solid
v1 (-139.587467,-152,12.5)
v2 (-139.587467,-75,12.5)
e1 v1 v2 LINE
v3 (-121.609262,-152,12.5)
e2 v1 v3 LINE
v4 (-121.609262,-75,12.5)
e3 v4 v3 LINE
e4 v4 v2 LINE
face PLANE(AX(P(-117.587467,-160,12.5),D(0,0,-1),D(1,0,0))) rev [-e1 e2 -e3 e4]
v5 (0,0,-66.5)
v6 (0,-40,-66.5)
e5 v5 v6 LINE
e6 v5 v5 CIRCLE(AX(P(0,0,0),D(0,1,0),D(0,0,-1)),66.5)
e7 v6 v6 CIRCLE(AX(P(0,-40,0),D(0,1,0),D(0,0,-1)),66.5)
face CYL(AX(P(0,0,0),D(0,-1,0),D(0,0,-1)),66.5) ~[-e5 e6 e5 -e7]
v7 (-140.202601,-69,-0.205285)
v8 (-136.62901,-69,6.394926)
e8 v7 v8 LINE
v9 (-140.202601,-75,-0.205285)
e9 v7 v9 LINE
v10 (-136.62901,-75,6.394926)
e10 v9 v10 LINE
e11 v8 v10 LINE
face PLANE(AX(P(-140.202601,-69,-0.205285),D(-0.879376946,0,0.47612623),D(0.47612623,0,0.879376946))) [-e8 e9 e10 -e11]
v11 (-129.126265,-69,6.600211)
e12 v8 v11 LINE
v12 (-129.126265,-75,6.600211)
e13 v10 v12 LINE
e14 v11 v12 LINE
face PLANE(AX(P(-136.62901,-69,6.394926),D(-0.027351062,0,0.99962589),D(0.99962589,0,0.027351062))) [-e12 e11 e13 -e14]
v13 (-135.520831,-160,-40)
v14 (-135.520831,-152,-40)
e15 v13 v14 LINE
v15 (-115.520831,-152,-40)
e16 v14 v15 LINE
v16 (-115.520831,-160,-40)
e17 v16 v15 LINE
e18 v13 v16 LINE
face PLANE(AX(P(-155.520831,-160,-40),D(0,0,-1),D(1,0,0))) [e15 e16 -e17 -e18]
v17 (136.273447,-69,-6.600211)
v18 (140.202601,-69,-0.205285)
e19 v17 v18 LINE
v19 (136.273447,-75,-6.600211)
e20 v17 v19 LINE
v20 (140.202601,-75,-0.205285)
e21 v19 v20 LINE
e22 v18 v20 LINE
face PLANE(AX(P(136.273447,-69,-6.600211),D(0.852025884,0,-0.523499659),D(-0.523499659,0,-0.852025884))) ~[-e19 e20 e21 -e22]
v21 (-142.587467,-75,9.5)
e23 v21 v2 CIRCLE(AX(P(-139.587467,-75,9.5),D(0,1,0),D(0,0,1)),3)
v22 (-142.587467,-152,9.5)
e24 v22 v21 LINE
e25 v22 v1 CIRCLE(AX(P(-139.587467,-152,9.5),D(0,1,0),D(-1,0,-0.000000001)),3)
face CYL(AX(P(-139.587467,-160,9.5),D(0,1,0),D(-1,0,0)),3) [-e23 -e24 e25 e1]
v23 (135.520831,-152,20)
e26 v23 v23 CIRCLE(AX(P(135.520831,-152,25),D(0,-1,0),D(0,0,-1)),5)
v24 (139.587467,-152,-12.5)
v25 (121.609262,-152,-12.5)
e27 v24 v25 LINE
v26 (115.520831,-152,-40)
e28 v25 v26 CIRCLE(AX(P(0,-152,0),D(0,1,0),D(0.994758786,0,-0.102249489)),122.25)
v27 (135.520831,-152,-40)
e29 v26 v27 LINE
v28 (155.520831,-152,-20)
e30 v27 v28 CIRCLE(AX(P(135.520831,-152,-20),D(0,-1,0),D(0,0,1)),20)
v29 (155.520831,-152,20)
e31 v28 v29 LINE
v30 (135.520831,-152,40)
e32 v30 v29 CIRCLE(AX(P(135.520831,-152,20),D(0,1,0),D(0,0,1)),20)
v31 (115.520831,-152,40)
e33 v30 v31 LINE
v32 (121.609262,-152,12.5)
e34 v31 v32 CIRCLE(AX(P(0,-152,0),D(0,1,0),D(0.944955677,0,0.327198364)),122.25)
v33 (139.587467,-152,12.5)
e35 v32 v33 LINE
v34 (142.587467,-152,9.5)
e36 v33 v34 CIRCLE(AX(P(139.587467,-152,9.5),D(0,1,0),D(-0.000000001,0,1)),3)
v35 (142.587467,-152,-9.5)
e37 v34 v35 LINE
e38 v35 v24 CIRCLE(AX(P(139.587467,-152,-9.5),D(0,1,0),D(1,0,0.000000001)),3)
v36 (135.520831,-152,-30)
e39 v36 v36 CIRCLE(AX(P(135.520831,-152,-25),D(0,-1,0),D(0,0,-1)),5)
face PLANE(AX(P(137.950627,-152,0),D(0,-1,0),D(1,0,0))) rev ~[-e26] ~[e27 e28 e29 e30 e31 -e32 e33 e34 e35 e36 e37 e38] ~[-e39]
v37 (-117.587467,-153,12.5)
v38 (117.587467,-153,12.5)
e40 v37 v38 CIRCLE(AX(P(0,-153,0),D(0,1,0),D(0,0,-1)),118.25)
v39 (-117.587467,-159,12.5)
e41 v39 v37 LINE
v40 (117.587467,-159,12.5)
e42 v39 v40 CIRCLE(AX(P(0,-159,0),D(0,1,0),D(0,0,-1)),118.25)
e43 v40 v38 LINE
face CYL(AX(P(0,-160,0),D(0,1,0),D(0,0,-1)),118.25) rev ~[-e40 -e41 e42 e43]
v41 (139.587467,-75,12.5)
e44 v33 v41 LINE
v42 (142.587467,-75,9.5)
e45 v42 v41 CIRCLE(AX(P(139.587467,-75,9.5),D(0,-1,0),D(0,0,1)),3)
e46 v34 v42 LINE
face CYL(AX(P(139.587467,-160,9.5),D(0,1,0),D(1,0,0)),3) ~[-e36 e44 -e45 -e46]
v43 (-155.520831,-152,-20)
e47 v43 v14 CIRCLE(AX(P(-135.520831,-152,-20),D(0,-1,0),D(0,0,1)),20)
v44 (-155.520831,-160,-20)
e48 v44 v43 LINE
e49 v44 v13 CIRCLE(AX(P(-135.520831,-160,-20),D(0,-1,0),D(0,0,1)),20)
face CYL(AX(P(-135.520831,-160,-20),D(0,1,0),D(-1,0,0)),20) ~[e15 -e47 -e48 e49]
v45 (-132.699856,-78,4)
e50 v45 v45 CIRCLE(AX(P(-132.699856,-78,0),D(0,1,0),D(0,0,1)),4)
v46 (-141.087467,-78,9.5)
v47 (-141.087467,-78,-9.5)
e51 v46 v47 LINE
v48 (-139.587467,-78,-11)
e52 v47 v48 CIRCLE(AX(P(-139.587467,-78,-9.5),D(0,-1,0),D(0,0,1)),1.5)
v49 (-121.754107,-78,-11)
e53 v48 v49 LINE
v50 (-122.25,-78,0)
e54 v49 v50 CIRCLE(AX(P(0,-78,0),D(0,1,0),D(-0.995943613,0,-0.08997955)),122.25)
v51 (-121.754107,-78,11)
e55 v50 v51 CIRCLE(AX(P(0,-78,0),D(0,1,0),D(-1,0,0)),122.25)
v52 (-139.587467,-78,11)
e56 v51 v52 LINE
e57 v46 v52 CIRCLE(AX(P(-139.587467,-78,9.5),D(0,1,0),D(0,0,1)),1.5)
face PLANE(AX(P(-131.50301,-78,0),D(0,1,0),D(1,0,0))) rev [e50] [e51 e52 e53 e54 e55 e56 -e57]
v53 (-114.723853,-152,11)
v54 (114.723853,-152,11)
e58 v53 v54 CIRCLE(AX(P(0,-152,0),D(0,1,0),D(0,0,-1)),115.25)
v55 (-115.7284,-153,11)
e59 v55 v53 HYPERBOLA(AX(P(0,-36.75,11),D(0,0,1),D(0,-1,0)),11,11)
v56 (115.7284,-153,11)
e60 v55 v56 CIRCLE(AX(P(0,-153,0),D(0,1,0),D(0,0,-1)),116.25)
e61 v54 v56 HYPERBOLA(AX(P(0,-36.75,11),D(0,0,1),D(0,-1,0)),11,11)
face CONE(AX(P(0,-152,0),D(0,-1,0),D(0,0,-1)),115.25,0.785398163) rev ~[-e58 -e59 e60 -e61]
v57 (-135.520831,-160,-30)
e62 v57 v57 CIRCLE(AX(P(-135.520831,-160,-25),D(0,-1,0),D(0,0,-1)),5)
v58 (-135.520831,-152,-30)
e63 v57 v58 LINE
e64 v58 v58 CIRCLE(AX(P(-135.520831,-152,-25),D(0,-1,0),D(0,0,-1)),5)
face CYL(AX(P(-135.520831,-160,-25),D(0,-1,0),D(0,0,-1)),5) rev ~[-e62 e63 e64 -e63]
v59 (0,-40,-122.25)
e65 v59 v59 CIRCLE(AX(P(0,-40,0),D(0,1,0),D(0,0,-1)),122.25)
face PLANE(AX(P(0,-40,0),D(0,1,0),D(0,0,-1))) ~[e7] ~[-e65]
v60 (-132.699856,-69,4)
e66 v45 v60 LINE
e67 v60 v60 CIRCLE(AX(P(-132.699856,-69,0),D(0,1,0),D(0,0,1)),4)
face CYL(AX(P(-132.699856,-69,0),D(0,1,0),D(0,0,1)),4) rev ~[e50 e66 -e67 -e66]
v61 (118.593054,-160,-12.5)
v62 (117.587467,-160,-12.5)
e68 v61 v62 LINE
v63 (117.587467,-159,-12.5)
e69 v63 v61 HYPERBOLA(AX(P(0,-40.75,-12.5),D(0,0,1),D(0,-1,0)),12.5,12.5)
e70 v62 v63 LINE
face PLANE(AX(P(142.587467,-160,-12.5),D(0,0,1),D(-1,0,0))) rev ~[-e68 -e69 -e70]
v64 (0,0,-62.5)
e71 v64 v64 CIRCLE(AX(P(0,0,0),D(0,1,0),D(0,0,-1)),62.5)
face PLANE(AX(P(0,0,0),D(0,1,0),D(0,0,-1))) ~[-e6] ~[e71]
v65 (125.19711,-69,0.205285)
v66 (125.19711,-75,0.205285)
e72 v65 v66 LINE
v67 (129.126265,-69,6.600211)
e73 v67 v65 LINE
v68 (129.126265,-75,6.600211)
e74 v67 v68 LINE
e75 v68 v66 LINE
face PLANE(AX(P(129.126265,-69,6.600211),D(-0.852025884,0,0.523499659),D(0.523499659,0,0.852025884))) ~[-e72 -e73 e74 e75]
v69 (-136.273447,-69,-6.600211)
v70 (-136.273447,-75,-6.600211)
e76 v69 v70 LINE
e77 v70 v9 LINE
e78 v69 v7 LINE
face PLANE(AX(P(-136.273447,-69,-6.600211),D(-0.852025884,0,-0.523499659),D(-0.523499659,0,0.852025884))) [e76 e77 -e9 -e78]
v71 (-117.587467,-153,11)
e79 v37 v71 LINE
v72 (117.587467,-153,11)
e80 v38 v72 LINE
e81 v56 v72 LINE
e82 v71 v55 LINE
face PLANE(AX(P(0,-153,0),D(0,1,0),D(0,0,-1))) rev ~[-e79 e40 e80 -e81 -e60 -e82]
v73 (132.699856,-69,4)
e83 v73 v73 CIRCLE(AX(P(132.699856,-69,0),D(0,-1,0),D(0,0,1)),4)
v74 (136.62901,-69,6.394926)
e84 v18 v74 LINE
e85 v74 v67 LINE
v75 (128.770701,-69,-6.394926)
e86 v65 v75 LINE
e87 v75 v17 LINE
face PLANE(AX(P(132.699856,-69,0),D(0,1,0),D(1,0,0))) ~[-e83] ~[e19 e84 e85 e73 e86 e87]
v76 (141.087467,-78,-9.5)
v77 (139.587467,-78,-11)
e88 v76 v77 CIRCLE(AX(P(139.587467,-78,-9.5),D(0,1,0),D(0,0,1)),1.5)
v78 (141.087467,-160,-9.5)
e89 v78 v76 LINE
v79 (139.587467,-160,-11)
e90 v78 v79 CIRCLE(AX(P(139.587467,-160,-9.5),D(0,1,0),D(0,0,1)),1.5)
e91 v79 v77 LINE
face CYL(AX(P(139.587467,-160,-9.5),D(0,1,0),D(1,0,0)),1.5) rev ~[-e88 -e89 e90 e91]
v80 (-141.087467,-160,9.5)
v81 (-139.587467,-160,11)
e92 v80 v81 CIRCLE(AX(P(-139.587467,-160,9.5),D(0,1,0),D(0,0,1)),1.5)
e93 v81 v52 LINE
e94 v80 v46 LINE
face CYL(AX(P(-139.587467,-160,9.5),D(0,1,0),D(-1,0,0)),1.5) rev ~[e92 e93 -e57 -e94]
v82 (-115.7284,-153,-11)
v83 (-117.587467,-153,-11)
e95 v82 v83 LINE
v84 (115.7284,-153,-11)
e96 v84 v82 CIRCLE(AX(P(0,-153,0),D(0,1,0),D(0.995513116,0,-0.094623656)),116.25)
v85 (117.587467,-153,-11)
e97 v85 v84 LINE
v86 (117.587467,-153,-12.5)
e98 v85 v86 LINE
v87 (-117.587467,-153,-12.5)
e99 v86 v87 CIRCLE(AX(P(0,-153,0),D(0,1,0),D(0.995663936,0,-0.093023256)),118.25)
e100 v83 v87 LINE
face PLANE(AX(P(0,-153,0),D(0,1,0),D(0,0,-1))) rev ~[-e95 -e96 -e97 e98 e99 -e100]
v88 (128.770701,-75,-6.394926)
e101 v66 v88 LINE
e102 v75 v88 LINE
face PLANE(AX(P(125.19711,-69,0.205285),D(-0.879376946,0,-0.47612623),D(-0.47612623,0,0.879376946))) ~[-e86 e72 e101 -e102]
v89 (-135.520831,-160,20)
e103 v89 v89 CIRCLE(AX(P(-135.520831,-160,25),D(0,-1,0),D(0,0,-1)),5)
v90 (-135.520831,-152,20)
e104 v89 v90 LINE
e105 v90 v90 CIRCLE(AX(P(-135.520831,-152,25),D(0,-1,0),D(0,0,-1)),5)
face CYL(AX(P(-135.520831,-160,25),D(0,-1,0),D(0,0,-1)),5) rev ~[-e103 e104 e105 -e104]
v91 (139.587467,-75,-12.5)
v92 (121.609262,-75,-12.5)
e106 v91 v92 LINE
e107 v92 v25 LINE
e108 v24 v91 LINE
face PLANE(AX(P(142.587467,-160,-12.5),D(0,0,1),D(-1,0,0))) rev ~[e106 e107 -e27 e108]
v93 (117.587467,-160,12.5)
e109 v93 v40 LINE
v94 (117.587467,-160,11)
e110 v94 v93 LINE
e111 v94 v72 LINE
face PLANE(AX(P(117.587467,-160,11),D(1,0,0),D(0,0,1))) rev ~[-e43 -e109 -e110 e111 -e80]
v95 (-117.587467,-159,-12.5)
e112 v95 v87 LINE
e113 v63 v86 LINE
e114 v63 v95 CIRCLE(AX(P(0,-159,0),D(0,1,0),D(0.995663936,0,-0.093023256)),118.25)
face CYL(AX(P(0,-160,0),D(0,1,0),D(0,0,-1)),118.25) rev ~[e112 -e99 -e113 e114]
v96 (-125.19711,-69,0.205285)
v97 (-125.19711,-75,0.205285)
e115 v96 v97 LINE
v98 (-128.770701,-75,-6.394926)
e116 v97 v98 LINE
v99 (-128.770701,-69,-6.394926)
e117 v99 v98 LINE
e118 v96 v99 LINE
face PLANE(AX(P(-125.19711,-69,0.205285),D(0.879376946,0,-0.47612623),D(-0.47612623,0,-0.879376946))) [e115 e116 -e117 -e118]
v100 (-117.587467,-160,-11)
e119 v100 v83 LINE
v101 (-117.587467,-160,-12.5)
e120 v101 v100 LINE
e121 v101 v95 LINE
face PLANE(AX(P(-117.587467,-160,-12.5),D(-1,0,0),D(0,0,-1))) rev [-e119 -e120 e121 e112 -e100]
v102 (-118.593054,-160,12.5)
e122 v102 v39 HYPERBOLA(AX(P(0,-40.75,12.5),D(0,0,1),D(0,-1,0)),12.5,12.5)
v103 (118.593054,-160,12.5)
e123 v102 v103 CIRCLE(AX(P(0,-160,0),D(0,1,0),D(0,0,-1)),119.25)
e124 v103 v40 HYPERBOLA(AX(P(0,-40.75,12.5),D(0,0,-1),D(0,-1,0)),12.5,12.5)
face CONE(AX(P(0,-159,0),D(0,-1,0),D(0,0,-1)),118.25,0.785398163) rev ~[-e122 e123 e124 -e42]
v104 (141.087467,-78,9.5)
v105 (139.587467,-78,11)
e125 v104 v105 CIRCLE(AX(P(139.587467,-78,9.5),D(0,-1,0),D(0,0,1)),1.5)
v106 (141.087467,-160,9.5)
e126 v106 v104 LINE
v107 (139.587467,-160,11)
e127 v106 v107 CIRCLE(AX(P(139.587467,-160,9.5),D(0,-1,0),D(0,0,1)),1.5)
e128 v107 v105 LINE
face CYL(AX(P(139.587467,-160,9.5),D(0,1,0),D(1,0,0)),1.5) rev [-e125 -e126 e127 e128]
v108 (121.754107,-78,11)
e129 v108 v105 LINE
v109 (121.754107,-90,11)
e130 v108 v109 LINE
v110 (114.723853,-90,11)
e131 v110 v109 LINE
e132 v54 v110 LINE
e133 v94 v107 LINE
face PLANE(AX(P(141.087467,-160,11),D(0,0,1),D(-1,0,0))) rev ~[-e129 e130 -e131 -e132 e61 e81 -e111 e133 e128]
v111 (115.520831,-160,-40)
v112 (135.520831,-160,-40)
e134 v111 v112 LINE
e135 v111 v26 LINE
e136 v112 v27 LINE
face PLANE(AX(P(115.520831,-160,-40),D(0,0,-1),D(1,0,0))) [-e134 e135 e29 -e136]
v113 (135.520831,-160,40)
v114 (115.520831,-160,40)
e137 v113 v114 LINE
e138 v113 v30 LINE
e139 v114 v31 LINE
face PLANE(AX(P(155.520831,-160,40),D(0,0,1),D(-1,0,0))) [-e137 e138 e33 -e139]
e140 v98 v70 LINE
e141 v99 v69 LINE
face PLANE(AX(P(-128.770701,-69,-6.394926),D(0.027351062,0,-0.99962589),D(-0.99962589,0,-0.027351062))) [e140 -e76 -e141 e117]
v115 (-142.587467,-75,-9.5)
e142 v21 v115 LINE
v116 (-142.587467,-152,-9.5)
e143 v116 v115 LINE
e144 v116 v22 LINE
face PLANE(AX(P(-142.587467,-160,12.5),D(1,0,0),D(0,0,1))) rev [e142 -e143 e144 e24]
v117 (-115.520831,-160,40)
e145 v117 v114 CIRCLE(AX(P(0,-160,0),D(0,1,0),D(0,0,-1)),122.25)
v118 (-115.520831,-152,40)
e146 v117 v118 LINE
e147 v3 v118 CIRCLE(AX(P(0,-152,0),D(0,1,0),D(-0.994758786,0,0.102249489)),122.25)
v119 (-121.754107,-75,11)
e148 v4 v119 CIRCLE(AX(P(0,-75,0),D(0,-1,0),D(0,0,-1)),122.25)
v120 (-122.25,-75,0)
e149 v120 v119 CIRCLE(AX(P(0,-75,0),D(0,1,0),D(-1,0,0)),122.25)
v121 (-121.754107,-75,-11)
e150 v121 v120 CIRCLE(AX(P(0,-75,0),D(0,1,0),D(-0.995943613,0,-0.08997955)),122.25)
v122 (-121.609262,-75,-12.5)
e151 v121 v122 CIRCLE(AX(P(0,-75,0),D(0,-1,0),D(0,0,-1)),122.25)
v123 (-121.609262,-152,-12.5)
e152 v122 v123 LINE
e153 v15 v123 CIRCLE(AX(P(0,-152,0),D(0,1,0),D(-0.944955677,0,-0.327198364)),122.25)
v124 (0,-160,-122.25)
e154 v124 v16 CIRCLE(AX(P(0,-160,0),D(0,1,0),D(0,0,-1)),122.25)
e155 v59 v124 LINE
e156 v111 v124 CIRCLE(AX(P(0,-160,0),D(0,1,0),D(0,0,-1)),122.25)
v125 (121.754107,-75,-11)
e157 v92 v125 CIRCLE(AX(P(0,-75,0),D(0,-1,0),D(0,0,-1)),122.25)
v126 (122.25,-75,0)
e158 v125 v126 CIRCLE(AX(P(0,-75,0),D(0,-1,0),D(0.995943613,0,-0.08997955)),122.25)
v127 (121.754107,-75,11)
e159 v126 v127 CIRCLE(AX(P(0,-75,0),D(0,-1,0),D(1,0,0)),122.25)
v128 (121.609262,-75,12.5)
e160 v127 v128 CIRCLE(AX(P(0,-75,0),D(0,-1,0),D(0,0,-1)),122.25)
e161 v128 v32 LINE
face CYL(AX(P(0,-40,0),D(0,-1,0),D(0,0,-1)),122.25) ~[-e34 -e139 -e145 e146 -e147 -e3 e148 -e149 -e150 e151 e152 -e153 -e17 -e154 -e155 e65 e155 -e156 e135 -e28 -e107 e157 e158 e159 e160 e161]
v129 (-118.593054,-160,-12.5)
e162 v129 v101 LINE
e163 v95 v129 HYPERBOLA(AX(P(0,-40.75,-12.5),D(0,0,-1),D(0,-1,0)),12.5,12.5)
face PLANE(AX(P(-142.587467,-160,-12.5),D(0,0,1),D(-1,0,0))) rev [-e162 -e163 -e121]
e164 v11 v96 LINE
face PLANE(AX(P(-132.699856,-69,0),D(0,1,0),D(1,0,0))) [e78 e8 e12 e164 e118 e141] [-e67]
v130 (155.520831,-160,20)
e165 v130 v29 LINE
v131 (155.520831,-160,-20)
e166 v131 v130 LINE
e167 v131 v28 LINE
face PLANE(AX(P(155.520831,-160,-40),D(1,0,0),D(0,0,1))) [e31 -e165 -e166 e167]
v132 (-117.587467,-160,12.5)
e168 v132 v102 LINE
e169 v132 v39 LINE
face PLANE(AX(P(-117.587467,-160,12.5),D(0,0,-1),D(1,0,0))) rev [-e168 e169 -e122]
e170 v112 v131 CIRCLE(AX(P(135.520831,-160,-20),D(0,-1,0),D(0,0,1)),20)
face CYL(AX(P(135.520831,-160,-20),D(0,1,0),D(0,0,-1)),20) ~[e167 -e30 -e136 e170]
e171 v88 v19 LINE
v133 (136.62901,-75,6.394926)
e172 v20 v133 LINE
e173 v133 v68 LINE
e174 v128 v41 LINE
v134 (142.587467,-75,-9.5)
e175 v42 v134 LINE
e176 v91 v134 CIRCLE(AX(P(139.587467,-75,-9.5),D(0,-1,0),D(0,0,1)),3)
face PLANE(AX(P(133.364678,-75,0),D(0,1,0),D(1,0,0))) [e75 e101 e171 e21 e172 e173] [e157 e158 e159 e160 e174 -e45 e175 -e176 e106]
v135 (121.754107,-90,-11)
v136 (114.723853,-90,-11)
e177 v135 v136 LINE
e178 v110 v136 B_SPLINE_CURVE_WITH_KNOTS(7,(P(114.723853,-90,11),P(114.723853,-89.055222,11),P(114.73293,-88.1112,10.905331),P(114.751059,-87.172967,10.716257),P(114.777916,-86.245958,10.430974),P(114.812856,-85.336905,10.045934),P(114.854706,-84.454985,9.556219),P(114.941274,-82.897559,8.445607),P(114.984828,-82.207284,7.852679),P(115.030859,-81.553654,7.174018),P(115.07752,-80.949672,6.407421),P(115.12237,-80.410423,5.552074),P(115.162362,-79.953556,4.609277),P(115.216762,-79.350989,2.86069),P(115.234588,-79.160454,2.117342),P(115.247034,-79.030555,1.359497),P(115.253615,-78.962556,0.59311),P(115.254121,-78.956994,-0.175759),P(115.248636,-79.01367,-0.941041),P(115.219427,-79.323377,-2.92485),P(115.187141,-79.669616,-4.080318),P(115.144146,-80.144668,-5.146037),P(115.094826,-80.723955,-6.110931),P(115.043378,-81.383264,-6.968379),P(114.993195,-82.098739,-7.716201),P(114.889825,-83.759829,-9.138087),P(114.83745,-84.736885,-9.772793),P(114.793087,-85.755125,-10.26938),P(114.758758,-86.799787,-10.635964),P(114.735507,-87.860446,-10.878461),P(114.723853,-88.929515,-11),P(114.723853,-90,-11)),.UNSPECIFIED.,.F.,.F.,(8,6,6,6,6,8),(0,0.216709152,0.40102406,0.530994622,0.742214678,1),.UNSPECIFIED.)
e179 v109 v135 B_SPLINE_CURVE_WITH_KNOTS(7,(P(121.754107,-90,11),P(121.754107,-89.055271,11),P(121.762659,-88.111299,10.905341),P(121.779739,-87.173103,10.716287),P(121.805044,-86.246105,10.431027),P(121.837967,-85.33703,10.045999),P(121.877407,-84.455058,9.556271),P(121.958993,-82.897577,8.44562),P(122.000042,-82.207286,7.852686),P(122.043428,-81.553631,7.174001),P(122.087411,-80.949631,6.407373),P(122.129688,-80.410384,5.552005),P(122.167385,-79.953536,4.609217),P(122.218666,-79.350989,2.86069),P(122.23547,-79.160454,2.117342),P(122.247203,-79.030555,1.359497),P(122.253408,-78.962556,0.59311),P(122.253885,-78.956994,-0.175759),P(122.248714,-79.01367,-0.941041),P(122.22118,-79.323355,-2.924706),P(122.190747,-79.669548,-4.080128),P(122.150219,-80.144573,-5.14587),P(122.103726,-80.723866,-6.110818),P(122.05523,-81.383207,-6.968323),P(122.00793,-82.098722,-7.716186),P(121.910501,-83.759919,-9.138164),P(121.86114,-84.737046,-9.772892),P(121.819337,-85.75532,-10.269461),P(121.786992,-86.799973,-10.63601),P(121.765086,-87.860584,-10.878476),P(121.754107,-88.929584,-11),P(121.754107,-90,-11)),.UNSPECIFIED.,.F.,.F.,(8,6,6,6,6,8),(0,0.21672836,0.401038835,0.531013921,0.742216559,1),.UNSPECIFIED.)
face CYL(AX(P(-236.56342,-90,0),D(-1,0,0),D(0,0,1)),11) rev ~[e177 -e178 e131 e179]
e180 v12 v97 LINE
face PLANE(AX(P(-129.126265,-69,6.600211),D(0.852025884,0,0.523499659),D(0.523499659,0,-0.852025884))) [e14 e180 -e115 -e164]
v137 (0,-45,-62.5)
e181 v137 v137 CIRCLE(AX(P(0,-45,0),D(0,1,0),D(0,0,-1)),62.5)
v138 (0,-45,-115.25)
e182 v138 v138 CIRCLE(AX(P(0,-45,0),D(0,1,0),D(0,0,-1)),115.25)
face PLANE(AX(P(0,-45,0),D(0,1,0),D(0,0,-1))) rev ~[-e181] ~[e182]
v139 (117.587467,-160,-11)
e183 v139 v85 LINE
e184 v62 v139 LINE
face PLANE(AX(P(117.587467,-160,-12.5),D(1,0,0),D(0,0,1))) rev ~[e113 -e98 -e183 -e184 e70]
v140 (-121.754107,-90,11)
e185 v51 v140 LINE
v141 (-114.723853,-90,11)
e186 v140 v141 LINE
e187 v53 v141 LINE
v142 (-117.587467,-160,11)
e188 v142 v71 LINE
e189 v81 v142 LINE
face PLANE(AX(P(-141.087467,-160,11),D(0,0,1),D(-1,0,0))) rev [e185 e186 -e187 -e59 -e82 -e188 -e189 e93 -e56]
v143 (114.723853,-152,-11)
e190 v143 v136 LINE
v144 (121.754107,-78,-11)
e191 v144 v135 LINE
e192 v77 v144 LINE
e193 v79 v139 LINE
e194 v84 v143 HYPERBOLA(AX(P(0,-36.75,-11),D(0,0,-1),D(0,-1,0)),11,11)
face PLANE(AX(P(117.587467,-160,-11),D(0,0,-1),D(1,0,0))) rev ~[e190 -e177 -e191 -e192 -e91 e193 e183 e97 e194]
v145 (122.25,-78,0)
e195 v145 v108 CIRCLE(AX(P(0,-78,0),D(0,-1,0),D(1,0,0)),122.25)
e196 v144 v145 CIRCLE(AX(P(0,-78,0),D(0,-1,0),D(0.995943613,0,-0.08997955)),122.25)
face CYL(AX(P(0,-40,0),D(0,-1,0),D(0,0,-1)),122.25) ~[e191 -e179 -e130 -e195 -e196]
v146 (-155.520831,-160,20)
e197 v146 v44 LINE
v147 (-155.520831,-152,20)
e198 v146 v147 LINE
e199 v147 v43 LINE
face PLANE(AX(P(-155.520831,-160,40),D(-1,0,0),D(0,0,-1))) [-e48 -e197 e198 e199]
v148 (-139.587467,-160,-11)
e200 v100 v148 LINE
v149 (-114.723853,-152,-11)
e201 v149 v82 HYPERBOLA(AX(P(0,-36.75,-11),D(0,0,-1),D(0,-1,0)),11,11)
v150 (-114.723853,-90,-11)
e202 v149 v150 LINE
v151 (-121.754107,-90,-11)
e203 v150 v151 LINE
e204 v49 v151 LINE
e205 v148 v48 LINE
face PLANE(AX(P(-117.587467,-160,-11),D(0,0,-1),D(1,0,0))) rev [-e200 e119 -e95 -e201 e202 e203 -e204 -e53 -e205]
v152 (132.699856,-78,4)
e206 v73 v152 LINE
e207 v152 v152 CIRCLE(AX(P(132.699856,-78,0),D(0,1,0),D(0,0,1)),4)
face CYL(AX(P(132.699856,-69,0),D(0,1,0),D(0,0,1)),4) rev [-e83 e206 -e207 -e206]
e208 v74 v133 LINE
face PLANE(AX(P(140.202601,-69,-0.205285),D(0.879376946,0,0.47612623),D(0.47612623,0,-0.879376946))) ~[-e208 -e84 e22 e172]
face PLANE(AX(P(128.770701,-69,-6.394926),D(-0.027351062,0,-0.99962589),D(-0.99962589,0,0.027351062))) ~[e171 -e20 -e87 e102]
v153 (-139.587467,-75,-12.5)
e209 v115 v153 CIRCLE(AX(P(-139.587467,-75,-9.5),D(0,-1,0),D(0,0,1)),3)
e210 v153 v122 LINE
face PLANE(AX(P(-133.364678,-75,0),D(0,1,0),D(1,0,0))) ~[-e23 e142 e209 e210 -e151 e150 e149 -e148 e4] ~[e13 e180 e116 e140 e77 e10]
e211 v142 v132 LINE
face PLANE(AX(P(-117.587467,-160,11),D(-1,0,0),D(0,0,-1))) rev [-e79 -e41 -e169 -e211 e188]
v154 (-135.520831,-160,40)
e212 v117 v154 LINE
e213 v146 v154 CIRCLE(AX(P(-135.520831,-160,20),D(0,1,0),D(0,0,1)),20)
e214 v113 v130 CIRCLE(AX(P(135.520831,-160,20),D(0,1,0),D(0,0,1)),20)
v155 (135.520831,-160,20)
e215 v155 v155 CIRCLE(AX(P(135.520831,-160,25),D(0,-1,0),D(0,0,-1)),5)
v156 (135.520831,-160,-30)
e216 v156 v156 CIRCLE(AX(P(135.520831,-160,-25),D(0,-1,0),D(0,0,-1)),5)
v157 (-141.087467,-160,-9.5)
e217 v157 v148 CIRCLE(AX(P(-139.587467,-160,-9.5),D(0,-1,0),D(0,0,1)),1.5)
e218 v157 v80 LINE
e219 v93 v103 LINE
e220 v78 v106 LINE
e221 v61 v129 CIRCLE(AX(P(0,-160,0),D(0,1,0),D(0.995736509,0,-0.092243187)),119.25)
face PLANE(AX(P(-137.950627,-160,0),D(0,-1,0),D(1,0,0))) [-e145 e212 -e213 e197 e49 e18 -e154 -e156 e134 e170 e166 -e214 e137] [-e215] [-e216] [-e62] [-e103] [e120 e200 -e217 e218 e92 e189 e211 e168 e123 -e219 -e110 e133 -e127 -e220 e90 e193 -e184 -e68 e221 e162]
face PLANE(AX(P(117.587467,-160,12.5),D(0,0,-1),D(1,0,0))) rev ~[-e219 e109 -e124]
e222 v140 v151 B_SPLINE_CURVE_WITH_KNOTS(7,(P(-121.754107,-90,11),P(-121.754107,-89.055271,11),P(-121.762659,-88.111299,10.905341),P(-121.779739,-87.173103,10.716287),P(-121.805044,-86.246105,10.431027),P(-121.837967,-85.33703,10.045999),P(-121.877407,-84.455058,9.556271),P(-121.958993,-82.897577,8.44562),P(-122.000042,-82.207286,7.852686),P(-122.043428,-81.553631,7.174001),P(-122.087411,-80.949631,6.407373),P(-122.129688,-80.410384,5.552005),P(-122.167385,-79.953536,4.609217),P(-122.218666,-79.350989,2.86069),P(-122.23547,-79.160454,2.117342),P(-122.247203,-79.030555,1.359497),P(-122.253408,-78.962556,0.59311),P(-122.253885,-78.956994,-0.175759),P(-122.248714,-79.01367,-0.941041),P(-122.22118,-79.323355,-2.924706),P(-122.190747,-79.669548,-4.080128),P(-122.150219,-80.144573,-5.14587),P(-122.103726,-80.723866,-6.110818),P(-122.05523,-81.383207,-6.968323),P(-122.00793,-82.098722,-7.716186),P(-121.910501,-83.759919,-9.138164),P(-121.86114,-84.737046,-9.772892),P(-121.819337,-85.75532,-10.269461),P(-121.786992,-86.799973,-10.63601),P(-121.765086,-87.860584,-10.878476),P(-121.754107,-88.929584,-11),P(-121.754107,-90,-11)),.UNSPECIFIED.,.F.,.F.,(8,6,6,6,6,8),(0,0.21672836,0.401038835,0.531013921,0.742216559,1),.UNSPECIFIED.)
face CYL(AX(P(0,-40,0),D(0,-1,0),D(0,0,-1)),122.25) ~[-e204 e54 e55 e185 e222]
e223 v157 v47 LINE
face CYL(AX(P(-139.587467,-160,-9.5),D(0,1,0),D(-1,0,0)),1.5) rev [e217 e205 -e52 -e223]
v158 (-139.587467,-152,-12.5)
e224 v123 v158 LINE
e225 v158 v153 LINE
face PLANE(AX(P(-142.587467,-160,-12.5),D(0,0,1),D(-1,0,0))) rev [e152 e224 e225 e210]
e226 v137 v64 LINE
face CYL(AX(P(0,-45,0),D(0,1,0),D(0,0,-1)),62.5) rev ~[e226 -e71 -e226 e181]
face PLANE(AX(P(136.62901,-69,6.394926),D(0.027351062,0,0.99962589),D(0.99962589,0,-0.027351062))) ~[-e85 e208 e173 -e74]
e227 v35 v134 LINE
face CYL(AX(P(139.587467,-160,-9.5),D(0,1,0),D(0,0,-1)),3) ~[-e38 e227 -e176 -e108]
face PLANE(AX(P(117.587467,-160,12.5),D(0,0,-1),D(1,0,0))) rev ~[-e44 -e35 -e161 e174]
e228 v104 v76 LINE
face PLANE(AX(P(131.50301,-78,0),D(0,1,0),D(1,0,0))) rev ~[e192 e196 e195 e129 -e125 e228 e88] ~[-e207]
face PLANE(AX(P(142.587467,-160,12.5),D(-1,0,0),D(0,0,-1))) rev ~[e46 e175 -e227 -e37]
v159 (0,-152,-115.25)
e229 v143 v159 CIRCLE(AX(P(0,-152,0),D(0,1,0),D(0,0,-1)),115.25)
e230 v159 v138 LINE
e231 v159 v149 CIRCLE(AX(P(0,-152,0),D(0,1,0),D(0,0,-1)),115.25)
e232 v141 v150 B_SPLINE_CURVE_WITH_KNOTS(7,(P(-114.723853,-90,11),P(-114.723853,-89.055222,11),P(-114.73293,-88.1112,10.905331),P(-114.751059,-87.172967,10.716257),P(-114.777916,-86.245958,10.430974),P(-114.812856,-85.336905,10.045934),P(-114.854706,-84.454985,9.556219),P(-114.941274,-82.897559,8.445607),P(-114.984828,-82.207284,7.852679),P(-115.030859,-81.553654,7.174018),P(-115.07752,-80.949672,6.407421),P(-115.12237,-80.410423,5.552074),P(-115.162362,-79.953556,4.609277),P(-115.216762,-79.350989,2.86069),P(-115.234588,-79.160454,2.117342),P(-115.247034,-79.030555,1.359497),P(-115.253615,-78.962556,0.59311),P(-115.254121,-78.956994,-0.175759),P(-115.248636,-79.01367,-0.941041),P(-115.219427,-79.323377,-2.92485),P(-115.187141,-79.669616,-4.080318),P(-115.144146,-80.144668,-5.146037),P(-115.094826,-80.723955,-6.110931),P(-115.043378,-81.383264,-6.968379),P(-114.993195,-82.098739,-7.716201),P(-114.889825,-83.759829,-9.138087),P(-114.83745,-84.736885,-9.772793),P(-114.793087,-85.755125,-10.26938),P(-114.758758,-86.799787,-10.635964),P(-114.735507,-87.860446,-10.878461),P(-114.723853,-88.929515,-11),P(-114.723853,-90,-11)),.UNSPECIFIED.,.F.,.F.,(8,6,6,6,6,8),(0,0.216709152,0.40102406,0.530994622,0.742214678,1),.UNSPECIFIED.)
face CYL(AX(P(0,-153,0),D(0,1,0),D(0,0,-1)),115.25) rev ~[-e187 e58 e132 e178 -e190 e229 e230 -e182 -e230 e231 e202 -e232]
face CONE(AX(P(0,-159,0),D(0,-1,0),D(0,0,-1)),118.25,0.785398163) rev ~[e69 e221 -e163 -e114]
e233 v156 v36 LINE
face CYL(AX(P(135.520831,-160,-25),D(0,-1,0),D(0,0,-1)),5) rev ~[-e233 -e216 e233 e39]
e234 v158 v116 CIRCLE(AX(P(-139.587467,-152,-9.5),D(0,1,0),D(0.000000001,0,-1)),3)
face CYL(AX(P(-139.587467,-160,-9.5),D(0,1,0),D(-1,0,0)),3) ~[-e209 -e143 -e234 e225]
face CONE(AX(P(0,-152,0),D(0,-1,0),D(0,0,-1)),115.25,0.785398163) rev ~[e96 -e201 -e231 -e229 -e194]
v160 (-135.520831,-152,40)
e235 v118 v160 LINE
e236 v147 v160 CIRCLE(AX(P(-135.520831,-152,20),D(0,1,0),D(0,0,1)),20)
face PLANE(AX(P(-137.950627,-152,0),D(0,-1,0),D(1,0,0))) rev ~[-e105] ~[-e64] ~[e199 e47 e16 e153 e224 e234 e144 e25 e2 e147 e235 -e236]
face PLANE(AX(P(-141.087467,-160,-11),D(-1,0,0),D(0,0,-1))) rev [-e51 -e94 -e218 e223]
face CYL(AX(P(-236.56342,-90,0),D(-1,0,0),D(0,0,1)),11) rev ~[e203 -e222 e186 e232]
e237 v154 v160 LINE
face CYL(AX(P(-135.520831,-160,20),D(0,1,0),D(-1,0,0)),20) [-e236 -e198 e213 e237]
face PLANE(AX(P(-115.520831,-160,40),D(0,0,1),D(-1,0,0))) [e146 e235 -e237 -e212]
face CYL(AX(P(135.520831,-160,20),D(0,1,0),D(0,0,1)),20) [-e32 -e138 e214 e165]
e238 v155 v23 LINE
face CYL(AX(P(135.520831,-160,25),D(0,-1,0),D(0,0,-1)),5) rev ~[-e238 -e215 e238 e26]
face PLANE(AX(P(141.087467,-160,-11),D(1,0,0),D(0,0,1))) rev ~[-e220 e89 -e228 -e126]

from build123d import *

# Parameters (mm, degrees)
CHAMFER1_SIZE           = 1
CUT_EXTRUDE1_DEPTH      = 236.563420335
CUT_EXTRUDE1_DEPTH_BACK = 236.563420335
BOSS_EXTRUDE2_START     = -160
BOSS_EXTRUDE2_DEPTH     = 85
BOSS_EXTRUDE3_START     = -3
BOSS_EXTRUDE3_DEPTH     = 3
FILLET1_R               = 1.5
FILLET2_R               = 3
FILLET1_OF_MIRROR1_R    = 1.5
FILLET2_OF_MIRROR1_R    = 3
SKETCH6_R               = 5
BOSS_EXTRUDE4_DEPTH     = 8
FILLET3_R               = 20
SKETCH7_R               = 4
CUT_EXTRUDE2_DEPTH      = 10
BOSS_EXTRUDE5_START     = 6
SKETCH8_R               = 4
BOSS_EXTRUDE5_DEPTH     = 6


with BuildPart() as part:
    # Sketch1 → Revolve1 (revolve)
    with BuildSketch(Plane.XY, mode=Mode.PRIVATE) as revolve1_sk:
        Polygon((-122.25, -160), (-118.25, -160), (-118.25, -153), (-115.25, -153), (-115.25, -45), (-62.5, -45), (-62.5, 0), (-66.5, 0), (-66.5, -40), (-122.25, -40), align=None)
    revolve(revolve1_sk.sketch.rotate(Axis((0, -155, 0), (0, 1, 0)), 270), axis=Axis((0, -155, 0), (0, 1, 0)))

    # Chamfer1
    chamfer1_edges = [part.edges().sort_by_distance(p)[0] for p in [
        (0, -153, 115.25),
        (0, -160, 118.25),
    ]]
    chamfer(chamfer1_edges, length=CHAMFER1_SIZE)

    # Sketch3 → Cut-Extrude1 (cut, two sides: drawn at the far end of the back side and taken through both)
    with BuildSketch(Plane(origin=(0, 0, 0), x_dir=(0, 0, -1), z_dir=(1, 0, 0)).offset(-CUT_EXTRUDE1_DEPTH_BACK)):
        with BuildLine():
            Line((-11, -160), (-11, -90))
            ThreePointArc((-11, -90), (0, -79), (11, -90))
            Line((11, -90), (11, -160))
            ThreePointArc((11, -160), (0, -171), (-11, -160))
        make_face()
    extrude(amount=CUT_EXTRUDE1_DEPTH + CUT_EXTRUDE1_DEPTH_BACK, mode=Mode.SUBTRACT)

    # Sketch2 → Boss-Extrude2 (add)
    with BuildSketch(Plane(origin=(34.652885487, 0, -427.94626462), x_dir=(1, 0, 0), z_dir=(0, 1, 0)).offset(BOSS_EXTRUDE2_START)):
        Polygon((107.934581958, -415.44626462), (82.934581958, -415.44626462), (82.934581958, -416.94626462), (106.434581958, -416.94626462), (106.434581958, -438.94626462), (82.934581958, -438.94626462), (82.934581958, -440.44626462), (107.934581958, -440.44626462), align=None)
    boss_extrude2 = extrude(amount=BOSS_EXTRUDE2_DEPTH)

    # Sketch5 → Boss-Extrude3 (add)
    with BuildSketch(Plane(origin=(0, -75, 0), x_dir=(1, 0, 0), z_dir=(0, 1, 0)).offset(BOSS_EXTRUDE3_START)):
        with BuildLine():
            Line((141.087467444, -11), (141.087467444, 11))
            Line((141.087467444, 11), (121.754106707, 11))
            ThreePointArc((121.754106707, 11), (122.125963752, 5.505586031), (122.25, 0))
            ThreePointArc((122.25, 0), (122.125963752, -5.505586031), (121.754106707, -11))
            Line((121.754106707, -11), (141.087467444, -11))
        make_face()
    boss_extrude3 = extrude(amount=BOSS_EXTRUDE3_DEPTH)

    # Fillet1
    fillet1_edges = [part.edges().sort_by_distance(p)[0] for p in [
        (141.087467444, -119, 11),
        (141.087467444, -119, -11),
    ]]
    fillet(fillet1_edges, radius=FILLET1_R)

    # Fillet2
    fillet2_edges = [part.edges().sort_by_distance(p)[0] for p in [
        (142.587467444, -117.5, 12.5),
        (142.587467444, -117.5, -12.5),
    ]]
    fillet(fillet2_edges, radius=FILLET2_R)

    # Mirror1: Boss-Extrude2, Boss-Extrude3 across plane
    add(boss_extrude2.mirror(Plane(origin=(0, 0, 0), x_dir=(0, 0, 1), z_dir=(1, 0, 0))))
    add(boss_extrude3.mirror(Plane(origin=(0, 0, 0), x_dir=(0, 0, 1), z_dir=(1, 0, 0))))

    # Fillet1 of Mirror1
    fillet1_of_mirror1_edges = [part.edges().sort_by_distance(p)[0] for p in [
        (-141.087467444, -119, 11),
        (-141.087467444, -119, -11),
    ]]
    fillet(fillet1_of_mirror1_edges, radius=FILLET1_OF_MIRROR1_R)

    # Fillet2 of Mirror1
    fillet2_of_mirror1_edges = [part.edges().sort_by_distance(p)[0] for p in [
        (-142.587467444, -117.5, 12.5),
        (-142.587467444, -117.5, -12.5),
    ]]
    fillet(fillet2_of_mirror1_edges, radius=FILLET2_OF_MIRROR1_R)

    # Sketch6 → Boss-Extrude4 (add)
    # profile 1 of 2: a face of its own
    with BuildSketch(Plane.XZ.offset(160)):
        with BuildLine():
            Line((-155.520831455, 40), (-155.520831455, -40))
            Line((-155.520831455, -40), (-115.520831455, -40))
            ThreePointArc((-115.520831455, -40), (-119.359678094, -26.425929413), (-121.609261572, -12.5))
            Line((-121.609261572, -12.5), (-139.587467444, -12.5))
            ThreePointArc((-139.587467444, -12.5), (-141.708787788, -11.621320344), (-142.587467444, -9.5))
            Line((-142.587467444, -9.5), (-142.587467444, 9.5))
            ThreePointArc((-142.587467444, 9.5), (-141.708787788, 11.621320344), (-139.587467444, 12.5))
            Line((-139.587467444, 12.5), (-121.609261572, 12.5))
            ThreePointArc((-121.609261572, 12.5), (-119.359678094, 26.425929413), (-115.520831455, 40))
            Line((-115.520831455, 40), (-155.520831455, 40))
        make_face()
        with Locations(Location((-135.520831455, -25, 0), (0, 0, 270))):
            Circle(SKETCH6_R, mode=Mode.SUBTRACT)
        with Locations(Location((-135.520831455, 25, 0), (0, 0, 270))):
            Circle(SKETCH6_R, mode=Mode.SUBTRACT)
    # profile 2 of 2: a face of its own
    with BuildSketch(Plane.XZ.offset(160)):
        with BuildLine():
            ThreePointArc((121.609261572, -12.5), (119.359678094, -26.425929413), (115.520831455, -40))
            Line((115.520831455, -40), (155.520831455, -40))
            Line((155.520831455, -40), (155.520831455, 40))
            Line((155.520831455, 40), (115.520831455, 40))
            ThreePointArc((115.520831455, 40), (119.359678094, 26.425929413), (121.609261572, 12.5))
            Line((121.609261572, 12.5), (139.587467444, 12.5))
            ThreePointArc((139.587467444, 12.5), (141.708787788, 11.621320344), (142.587467444, 9.5))
            Line((142.587467444, 9.5), (142.587467444, -9.5))
            ThreePointArc((142.587467444, -9.5), (141.708787788, -11.621320344), (139.587467444, -12.5))
            Line((139.587467444, -12.5), (121.609261572, -12.5))
        make_face()
        with Locations(Location((135.520831455, -25, 0), (0, 0, 270))):
            Circle(SKETCH6_R, mode=Mode.SUBTRACT)
        with Locations(Location((135.520831455, 25, 0), (0, 0, 270))):
            Circle(SKETCH6_R, mode=Mode.SUBTRACT)
    extrude(amount=-BOSS_EXTRUDE4_DEPTH)

    # Fillet3
    fillet3_edges = [part.edges().sort_by_distance(p)[0] for p in [
        (-155.520831455, -156, 40),
        (-155.520831455, -156, -40),
        (155.520831455, -156, -40),
        (155.520831455, -156, 40),
    ]]
    fillet(fillet3_edges, radius=FILLET3_R)

    # Sketch7 → Cut-Extrude2 (cut)
    with BuildSketch(Plane(origin=(0, -75, 0), x_dir=(1, 0, 0), z_dir=(0, 1, 0))):
        with Locations(Location((-132.699855766, 0, 0), (0, 0, 270))):
            Circle(SKETCH7_R)
    cut_extrude2 = extrude(amount=-CUT_EXTRUDE2_DEPTH, mode=Mode.SUBTRACT)

    # Sketch8 → Boss-Extrude5 (add)
    with BuildSketch(Plane(origin=(0, -75, 0), x_dir=(1, 0, 0), z_dir=(0, 1, 0)).offset(BOSS_EXTRUDE5_START)):
        Polygon((-128.770701066, 6.394925854), (-136.273446661, 6.600210713), (-140.202601361, 0.205284859), (-136.629010467, -6.394925854), (-129.126264872, -6.600210713), (-125.197110172, -0.205284859), align=None)
        with Locations(Location((-132.699855766, 0, 0), (0, 0, 270))):
            Circle(SKETCH8_R, mode=Mode.SUBTRACT)
    boss_extrude5 = extrude(amount=-BOSS_EXTRUDE5_DEPTH)

    # Mirror2: Cut-Extrude2, Boss-Extrude5 across plane
    add(cut_extrude2.mirror(Plane(origin=(0, 0, 0), x_dir=(0, 0, 1), z_dir=(1, 0, 0))), mode=Mode.SUBTRACT)
    add(boss_extrude5.mirror(Plane(origin=(0, 0, 0), x_dir=(0, 0, 1), z_dir=(1, 0, 0))))


solid = part.part
